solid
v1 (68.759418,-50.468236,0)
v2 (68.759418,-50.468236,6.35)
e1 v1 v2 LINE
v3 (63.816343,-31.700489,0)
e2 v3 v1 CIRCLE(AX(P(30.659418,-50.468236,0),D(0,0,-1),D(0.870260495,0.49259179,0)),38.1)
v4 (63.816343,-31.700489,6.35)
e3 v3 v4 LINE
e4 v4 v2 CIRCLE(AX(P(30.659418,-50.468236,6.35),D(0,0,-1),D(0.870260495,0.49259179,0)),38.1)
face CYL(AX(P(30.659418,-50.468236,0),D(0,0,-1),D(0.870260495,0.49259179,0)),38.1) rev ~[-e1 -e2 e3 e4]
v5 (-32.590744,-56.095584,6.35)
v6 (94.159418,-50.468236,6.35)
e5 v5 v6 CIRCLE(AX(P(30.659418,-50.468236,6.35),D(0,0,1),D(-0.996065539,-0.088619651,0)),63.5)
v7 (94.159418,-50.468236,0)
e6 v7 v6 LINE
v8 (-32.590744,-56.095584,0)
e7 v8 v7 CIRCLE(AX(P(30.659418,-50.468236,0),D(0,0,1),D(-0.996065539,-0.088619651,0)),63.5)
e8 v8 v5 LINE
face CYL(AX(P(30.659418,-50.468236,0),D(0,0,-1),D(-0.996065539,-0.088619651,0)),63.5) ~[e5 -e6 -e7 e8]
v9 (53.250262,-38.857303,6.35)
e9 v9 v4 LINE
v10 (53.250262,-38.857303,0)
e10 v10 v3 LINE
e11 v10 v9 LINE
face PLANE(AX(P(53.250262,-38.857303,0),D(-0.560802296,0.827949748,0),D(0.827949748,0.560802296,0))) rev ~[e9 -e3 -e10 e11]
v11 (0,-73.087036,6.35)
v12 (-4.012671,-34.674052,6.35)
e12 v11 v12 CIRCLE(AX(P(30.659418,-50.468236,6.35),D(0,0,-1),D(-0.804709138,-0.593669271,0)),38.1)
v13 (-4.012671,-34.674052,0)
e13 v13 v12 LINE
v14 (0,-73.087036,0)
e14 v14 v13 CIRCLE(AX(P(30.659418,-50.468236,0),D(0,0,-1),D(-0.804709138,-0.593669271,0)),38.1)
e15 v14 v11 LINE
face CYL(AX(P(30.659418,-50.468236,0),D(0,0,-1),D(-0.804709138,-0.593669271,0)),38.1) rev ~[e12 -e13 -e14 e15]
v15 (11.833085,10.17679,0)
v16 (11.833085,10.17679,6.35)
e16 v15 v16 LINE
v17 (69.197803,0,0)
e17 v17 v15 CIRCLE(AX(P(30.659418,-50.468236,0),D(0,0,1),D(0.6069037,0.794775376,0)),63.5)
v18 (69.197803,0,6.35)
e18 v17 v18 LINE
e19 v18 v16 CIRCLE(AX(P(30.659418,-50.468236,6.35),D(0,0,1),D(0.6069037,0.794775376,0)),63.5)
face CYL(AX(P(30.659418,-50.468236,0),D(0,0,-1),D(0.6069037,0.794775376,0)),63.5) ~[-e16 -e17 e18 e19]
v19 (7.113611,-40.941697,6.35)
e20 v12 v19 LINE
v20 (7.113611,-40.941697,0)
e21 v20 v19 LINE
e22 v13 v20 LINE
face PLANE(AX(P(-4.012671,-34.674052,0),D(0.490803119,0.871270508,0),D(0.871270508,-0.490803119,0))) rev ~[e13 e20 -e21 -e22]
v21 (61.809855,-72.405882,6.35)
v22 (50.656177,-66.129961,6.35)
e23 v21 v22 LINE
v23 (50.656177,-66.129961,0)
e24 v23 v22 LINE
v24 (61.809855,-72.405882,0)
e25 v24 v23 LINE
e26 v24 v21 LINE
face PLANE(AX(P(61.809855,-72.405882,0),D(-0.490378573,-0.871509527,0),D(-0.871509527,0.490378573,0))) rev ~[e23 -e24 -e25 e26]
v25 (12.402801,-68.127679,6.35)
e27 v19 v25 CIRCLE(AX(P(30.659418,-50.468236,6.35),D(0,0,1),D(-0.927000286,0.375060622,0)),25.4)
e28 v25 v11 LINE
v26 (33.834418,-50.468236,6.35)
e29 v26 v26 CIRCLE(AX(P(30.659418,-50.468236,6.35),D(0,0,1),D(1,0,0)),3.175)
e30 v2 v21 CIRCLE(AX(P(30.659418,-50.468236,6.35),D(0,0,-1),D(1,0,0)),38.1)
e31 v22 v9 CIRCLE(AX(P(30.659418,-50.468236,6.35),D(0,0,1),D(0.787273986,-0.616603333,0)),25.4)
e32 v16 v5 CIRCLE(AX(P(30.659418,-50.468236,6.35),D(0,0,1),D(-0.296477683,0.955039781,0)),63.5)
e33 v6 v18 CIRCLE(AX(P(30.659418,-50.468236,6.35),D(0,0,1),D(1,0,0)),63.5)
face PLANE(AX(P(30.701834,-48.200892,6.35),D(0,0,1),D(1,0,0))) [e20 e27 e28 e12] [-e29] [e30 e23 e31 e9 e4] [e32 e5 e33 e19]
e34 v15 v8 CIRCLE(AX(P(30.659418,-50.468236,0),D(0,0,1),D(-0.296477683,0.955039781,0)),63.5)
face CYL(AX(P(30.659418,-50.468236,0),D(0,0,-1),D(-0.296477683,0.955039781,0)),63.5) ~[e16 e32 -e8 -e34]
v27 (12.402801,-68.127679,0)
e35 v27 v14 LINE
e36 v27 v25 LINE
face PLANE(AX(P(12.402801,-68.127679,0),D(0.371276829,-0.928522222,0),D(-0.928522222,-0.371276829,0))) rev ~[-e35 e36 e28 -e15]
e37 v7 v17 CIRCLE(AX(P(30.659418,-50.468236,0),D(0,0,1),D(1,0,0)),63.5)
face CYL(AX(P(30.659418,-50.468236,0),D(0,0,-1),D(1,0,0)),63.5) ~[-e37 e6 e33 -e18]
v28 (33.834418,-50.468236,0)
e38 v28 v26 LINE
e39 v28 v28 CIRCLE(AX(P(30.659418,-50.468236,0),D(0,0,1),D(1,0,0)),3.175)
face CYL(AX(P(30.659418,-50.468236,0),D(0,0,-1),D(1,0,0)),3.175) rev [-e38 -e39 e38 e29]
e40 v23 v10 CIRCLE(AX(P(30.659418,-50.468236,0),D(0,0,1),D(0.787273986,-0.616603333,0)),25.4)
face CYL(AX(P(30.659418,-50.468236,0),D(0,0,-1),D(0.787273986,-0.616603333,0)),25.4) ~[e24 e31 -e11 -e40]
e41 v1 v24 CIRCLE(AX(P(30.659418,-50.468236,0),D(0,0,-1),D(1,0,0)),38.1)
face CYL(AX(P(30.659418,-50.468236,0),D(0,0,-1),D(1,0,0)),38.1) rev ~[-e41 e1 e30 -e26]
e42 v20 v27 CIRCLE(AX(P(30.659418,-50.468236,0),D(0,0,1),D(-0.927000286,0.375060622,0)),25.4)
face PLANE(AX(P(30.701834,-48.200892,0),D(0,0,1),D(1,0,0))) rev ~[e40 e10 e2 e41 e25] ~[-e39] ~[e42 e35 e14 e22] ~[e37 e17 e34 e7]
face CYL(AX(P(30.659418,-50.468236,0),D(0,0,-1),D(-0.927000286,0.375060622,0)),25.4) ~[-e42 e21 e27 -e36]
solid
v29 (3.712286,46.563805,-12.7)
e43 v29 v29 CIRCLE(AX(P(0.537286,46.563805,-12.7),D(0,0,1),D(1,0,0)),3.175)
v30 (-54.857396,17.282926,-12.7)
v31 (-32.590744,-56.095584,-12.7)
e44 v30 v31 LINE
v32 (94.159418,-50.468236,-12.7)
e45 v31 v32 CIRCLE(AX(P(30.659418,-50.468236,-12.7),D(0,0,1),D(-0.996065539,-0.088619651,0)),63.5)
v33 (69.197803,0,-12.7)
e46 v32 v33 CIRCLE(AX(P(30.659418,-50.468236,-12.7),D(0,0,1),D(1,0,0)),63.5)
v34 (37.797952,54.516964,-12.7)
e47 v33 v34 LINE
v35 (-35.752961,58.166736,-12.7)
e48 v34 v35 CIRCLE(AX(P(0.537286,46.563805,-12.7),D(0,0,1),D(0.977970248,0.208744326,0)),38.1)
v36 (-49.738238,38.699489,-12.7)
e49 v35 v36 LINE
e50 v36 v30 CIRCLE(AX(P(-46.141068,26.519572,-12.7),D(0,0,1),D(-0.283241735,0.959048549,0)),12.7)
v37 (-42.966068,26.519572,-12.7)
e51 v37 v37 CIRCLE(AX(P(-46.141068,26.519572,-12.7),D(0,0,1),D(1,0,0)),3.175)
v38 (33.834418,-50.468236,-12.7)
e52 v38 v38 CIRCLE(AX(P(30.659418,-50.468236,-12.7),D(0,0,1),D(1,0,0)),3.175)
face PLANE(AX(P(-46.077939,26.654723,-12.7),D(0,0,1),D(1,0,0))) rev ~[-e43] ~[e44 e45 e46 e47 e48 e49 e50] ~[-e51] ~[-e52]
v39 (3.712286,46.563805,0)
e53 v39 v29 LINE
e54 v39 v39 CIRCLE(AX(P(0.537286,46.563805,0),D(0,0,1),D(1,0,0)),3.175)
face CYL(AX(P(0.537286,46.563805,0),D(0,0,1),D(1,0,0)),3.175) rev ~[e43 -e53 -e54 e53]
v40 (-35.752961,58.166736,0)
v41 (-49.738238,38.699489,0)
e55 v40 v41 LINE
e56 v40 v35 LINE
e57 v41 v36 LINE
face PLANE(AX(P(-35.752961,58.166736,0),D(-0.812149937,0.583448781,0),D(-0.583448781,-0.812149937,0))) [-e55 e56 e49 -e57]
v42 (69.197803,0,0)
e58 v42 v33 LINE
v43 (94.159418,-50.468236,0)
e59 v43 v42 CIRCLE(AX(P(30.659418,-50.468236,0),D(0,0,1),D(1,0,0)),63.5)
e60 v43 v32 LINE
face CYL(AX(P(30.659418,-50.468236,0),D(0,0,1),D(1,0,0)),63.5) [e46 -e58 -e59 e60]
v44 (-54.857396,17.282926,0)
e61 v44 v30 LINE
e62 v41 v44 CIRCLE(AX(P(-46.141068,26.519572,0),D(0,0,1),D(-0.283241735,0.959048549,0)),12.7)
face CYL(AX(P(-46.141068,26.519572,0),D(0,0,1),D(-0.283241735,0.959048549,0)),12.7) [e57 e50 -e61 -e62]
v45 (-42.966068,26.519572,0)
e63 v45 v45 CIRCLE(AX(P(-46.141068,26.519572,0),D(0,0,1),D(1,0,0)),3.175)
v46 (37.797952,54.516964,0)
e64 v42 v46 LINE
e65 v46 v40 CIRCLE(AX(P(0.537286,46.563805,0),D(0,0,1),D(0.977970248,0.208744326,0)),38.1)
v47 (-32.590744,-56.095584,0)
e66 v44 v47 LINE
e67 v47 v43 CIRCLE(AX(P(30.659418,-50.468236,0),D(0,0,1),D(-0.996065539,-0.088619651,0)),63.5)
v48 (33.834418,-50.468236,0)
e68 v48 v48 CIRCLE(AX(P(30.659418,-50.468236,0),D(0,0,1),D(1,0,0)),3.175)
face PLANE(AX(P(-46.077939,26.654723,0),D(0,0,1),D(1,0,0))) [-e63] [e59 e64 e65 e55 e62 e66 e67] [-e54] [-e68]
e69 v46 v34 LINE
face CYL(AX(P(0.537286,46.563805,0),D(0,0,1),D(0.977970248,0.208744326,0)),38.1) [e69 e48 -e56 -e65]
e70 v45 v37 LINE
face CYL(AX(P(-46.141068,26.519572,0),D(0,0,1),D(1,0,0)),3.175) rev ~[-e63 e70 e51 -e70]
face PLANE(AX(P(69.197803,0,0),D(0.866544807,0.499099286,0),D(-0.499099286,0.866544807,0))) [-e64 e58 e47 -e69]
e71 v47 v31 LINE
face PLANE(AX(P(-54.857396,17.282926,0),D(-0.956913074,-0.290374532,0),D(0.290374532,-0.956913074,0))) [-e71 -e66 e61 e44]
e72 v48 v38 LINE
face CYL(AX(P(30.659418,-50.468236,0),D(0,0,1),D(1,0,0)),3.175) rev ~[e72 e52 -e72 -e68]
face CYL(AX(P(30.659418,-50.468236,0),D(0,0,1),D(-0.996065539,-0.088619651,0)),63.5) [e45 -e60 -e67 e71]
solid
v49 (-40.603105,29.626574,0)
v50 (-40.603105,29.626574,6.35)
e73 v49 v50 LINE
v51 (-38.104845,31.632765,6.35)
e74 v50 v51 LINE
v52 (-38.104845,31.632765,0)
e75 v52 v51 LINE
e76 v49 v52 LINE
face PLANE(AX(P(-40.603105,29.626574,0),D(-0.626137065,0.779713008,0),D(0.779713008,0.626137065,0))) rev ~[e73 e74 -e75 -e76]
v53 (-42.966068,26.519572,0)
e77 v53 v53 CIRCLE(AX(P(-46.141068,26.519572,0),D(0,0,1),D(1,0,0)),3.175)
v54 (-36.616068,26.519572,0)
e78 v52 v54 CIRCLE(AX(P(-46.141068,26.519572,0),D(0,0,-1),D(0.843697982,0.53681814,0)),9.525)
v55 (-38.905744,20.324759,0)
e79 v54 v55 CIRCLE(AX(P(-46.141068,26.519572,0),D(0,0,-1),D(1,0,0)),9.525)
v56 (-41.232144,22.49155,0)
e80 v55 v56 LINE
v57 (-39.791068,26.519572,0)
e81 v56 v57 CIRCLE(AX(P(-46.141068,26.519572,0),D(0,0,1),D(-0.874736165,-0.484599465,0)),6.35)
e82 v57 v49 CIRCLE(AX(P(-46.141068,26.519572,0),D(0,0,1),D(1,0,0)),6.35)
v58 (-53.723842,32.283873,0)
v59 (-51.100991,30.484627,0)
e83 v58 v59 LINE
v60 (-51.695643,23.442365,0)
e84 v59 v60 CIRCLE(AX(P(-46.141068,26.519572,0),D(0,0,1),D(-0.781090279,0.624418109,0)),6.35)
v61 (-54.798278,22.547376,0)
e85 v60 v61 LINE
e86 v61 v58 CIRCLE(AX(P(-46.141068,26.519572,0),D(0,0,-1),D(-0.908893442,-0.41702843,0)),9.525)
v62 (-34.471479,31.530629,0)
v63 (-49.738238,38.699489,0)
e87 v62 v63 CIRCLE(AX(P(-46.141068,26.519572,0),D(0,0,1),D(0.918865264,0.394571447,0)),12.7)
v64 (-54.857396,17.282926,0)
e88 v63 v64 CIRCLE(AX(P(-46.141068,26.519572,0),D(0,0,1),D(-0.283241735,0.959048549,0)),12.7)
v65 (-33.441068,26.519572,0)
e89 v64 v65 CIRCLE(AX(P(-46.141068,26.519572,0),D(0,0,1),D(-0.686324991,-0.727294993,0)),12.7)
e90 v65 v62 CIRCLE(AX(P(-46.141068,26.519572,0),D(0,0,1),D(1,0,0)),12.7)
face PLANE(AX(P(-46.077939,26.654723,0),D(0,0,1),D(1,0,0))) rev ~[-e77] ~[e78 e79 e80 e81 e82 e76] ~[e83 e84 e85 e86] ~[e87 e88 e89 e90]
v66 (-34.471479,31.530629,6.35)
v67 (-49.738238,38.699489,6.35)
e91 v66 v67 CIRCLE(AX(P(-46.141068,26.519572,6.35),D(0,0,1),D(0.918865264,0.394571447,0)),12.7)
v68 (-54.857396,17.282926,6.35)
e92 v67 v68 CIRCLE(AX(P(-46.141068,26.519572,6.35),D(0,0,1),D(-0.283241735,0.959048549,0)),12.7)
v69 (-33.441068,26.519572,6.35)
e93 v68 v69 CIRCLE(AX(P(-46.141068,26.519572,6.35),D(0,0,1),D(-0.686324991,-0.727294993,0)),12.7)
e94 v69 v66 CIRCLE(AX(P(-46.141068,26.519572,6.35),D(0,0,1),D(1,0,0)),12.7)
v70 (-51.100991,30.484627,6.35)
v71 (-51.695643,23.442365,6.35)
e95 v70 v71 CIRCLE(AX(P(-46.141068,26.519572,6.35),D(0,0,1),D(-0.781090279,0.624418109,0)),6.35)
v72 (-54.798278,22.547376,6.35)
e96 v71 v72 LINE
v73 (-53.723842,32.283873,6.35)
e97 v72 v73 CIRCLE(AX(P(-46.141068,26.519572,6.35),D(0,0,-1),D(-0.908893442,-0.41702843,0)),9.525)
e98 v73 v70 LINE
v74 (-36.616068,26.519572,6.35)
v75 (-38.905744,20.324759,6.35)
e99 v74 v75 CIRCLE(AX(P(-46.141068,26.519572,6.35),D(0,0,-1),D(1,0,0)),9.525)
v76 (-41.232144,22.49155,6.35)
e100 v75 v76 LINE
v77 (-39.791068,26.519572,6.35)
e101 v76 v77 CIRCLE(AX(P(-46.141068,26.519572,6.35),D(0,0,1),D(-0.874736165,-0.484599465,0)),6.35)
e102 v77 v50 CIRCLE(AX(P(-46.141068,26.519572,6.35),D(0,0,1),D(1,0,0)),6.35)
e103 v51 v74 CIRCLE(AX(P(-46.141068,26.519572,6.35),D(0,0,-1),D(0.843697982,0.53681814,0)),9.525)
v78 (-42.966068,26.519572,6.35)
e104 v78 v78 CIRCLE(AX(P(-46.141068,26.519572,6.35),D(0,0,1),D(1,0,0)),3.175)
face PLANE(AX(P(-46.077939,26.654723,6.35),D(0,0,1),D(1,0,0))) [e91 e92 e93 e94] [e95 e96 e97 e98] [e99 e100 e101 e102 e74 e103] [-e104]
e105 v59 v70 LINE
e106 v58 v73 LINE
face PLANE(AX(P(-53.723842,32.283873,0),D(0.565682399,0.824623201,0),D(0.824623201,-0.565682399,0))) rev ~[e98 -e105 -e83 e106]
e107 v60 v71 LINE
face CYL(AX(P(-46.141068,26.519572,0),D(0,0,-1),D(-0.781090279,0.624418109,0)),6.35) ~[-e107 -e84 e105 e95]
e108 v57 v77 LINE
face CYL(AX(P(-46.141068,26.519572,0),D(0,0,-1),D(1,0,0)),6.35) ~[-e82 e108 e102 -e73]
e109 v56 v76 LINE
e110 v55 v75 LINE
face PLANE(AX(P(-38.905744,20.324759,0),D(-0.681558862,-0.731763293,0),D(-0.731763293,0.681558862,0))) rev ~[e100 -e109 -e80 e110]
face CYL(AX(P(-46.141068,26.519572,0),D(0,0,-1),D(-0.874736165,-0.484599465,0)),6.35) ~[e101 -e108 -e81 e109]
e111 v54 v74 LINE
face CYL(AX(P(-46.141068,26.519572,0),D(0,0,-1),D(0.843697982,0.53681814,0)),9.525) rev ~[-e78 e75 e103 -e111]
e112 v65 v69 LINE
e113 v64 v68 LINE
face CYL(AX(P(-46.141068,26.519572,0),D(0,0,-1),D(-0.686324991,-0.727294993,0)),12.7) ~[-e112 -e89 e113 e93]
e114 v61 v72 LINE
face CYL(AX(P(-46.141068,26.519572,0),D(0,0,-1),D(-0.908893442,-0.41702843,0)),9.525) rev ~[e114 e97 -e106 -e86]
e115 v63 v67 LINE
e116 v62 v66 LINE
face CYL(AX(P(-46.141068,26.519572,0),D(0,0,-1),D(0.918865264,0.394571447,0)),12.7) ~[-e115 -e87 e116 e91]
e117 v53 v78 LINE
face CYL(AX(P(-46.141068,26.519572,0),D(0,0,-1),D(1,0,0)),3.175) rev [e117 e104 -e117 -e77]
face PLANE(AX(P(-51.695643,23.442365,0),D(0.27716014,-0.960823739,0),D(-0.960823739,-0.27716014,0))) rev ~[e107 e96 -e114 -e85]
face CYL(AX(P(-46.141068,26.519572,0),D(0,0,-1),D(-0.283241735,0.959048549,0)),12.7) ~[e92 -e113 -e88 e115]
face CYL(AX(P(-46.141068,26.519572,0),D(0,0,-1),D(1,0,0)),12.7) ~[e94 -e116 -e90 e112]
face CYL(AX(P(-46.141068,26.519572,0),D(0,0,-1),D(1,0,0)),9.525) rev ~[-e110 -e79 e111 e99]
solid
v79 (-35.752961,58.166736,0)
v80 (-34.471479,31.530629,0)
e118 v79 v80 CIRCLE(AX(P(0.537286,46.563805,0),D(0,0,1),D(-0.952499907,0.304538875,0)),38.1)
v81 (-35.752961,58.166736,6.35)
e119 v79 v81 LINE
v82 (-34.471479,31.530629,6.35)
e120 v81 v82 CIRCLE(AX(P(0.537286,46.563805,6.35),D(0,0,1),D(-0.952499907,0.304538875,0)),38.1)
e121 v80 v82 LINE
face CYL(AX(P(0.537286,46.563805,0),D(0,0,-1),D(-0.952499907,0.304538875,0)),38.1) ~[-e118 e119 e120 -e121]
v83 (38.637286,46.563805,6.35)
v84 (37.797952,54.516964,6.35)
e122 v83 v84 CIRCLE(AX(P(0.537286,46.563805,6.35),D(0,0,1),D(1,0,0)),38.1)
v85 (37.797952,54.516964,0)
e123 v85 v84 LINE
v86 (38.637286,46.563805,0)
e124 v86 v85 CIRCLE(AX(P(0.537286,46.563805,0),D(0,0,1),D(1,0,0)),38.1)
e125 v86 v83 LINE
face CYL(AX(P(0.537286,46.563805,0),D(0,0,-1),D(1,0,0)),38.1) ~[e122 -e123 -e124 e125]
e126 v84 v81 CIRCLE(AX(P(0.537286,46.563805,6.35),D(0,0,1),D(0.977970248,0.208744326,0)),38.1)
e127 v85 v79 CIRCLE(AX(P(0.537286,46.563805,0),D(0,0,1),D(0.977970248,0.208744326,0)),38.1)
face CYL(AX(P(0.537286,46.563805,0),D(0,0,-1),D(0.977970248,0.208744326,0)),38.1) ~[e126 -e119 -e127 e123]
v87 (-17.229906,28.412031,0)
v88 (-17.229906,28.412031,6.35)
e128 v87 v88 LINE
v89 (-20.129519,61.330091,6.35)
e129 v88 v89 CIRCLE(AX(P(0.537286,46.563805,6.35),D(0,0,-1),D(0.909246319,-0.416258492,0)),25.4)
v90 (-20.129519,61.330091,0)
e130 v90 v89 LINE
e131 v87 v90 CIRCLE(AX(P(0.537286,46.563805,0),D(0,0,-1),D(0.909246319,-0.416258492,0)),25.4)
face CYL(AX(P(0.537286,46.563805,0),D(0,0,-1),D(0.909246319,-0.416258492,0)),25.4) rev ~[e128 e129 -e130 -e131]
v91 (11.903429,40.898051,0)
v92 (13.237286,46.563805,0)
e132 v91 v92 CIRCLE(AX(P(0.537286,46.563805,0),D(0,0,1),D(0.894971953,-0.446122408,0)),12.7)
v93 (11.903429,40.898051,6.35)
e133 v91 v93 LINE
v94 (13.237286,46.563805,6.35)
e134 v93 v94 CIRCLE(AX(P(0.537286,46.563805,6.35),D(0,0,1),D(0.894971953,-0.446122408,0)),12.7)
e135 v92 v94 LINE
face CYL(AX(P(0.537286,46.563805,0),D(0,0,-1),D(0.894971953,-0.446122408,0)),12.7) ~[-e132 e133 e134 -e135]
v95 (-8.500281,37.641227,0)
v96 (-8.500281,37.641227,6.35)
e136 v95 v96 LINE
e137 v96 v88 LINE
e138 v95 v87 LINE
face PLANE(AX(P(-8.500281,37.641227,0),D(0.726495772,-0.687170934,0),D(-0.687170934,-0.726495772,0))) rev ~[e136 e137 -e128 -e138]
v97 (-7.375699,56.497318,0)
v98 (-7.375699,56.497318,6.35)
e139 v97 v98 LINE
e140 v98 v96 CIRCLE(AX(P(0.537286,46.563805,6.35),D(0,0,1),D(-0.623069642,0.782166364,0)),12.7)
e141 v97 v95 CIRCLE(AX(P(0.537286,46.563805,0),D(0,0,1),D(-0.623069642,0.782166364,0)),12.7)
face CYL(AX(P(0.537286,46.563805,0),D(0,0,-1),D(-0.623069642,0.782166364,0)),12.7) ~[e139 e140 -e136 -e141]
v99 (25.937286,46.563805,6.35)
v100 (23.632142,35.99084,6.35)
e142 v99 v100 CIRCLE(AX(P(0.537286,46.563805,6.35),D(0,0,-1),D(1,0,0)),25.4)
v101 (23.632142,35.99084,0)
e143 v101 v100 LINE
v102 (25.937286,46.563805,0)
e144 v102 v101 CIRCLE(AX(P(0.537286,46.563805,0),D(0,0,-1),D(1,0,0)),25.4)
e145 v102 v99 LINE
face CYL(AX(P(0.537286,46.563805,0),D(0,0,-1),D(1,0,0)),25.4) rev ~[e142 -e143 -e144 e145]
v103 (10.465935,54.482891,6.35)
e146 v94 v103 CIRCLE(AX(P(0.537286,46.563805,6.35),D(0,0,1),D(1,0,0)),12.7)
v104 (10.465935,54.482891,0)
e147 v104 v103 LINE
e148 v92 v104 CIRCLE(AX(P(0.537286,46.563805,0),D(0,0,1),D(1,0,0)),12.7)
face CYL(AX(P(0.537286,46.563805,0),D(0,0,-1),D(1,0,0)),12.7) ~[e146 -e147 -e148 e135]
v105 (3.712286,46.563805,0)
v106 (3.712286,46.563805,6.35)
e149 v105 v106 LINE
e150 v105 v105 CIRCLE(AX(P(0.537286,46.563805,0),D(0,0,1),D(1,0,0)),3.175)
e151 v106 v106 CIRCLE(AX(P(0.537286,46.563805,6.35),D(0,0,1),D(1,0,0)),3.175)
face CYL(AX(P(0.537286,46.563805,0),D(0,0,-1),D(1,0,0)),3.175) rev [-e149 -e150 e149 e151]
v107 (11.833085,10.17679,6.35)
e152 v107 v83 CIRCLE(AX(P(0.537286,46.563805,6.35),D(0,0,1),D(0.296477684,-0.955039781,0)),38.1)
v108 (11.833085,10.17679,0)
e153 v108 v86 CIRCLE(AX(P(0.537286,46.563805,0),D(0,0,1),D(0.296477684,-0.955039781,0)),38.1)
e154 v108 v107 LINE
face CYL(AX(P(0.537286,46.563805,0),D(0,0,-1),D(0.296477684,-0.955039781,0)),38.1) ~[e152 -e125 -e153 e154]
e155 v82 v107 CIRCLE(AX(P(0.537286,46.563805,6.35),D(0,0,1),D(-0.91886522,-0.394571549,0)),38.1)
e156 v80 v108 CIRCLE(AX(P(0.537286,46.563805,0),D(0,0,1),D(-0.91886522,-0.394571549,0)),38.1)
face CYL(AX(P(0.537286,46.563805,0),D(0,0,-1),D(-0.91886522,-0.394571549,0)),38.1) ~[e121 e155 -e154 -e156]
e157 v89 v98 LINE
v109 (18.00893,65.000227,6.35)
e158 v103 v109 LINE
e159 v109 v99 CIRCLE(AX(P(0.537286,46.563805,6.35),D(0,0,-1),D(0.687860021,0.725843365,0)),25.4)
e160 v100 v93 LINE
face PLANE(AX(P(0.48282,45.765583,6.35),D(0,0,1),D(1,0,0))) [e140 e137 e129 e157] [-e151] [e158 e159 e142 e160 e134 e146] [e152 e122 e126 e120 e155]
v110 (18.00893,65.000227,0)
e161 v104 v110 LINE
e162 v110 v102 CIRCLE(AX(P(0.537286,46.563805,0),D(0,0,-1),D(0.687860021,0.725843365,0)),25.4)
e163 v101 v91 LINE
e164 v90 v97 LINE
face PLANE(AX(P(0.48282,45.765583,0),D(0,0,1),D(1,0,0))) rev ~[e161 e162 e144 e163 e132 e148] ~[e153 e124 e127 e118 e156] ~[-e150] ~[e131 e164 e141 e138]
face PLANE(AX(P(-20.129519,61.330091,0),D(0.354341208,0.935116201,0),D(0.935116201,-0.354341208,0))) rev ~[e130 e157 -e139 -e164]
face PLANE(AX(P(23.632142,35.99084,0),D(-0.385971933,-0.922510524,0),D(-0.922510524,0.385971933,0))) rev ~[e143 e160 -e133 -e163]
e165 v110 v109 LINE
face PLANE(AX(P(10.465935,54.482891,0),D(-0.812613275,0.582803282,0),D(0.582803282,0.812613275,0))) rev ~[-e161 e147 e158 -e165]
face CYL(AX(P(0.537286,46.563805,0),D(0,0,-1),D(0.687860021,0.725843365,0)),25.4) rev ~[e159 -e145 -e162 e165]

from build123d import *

# Parameters (mm, degrees)
F0_R     = 3.175
F1_DEPTH = 6.35
F2_DEPTH = 12.7


with BuildPart() as f1:
    # F0 (on Top) → F1 (new body)
    with BuildSketch(Plane.XY):
        with BuildLine():
            ThreePointArc((-35.7529609464, 58.1667364851), (-37.5186970008, 44.7329056435), (-34.4714793594, 31.5306293419))
            ThreePointArc((-34.4714793594, 31.5306293419), (-15.4180520019, 11.9655799049), (11.8330852799, 10.1767897043))
            ThreePointArc((11.8330852799, 10.1767897043), (31.2128455927, 23.9669025865), (38.6372855282, 46.5638053551))
            ThreePointArc((38.6372855282, 46.5638053551), (38.4268711154, 50.5624681355), (37.7979519832, 54.5169641821))
            ThreePointArc((37.7979519832, 54.5169641821), (2.4255752837, 84.6169834326), (-35.7529609464, 58.1667364851))
        make_face()
        with BuildLine():
            ThreePointArc((-20.1295190644, 61.3300908707), (-1.8957653213, 71.8470065678), (18.0089300704, 65.0002268351))
            ThreePointArc((18.0089300704, 65.0002268351), (23.8711640247, 56.5982517431), (25.9372855282, 46.5638053551))
            ThreePointArc((25.9372855282, 46.5638053551), (25.3543094725, 41.1531378778), (23.6321420204, 35.9908396591))
            ThreePointArc((23.6321420204, 35.9908396591), (5.1693034125, 21.589730591), (-17.2299057254, 28.4120309251))
            ThreePointArc((-17.2299057254, 28.4120309251), (-24.7647435766, 44.3350561147), (-20.1295190644, 61.3300908707))
        make_face(mode=Mode.SUBTRACT)
        with BuildLine():
            ThreePointArc((11.903429337, 40.8980507788), (12.8993247284, 43.6534811782), (13.2372855282, 46.5638053551))
            ThreePointArc((13.2372855282, 46.5638053551), (12.5244421894, 50.7588113362), (10.4659351059, 54.482891007))
            ThreePointArc((10.4659351059, 54.482891007), (1.962138395, 59.1836228778), (-7.3756989197, 56.4973181842))
            ThreePointArc((-7.3756989197, 56.4973181842), (-12.1401878613, 47.3198929538), (-8.5002807579, 37.6412274976))
            ThreePointArc((-8.5002807579, 37.6412274976), (2.5391078957, 34.022565097), (11.903429337, 40.8980507788))
        make_face()
        with Locations((0.5372855282, 46.5638053551)):
            Circle(F0_R, mode=Mode.SUBTRACT)
        with BuildLine():
            Line((23.6321420204, 35.9908396591), (11.903429337, 40.8980507788))
            ThreePointArc((11.903429337, 40.8980507788), (2.5391078957, 34.022565097), (-8.5002807579, 37.6412274976))
            Line((-8.5002807579, 37.6412274976), (-17.2299057254, 28.4120309251))
            ThreePointArc((-17.2299057254, 28.4120309251), (5.1693034125, 21.589730591), (23.6321420204, 35.9908396591))
        make_face()
        with BuildLine():
            ThreePointArc((-7.3756989197, 56.4973181842), (1.962138395, 59.1836228778), (10.4659351059, 54.482891007))
            Line((10.4659351059, 54.482891007), (18.0089300704, 65.0002268351))
            ThreePointArc((18.0089300704, 65.0002268351), (-1.8957653213, 71.8470065678), (-20.1295190644, 61.3300908707))
            Line((-20.1295190644, 61.3300908707), (-7.3756989197, 56.4973181842))
        make_face()
    extrude(amount=F1_DEPTH)


with BuildPart() as f1b:
    # F0 (on Top) → F1, piece 2 (new body)
    with BuildSketch(Plane.XY):
        with BuildLine():
            ThreePointArc((11.8330852799, 10.1767897043), (-22.0866208351, -15.1114071818), (-32.5907435662, -56.0955842544))
            ThreePointArc((-32.5907435662, -56.0955842544), (33.4758637329, -113.9057460769), (94.1594181419, -50.4682363982))
            ThreePointArc((94.1594181419, -50.4682363982), (87.5779451985, -22.3163043559), (69.1978030958, 0))
            ThreePointArc((69.1978030958, 0), (41.7514428259, 12.0554950037), (11.8330852799, 10.1767897043))
        make_face()
        with BuildLine():
            ThreePointArc((-4.0126707213, -34.6740522198), (28.9907510806, -12.4047952737), (63.8163429852, -31.700489199))
            ThreePointArc((63.8163429852, -31.700489199), (67.5029307088, -40.7643412146), (68.7594181419, -50.4682363982))
            ThreePointArc((68.7594181419, -50.4682363982), (66.9804977497, -61.9742859429), (61.8098550907, -72.4058816206))
            ThreePointArc((61.8098550907, -72.4058816206), (31.0792604542, -88.5659231053), (0, -73.0870356413))
            ThreePointArc((0, -73.0870356413), (-7.2343910586, -54.4266734982), (-4.0126707213, -34.6740522198))
        make_face(mode=Mode.SUBTRACT)
        with BuildLine():
            ThreePointArc((7.1136108793, -40.9416966092), (29.5130488205, -25.0941189282), (53.2502621228, -38.8573032647))
            Line((53.2502621228, -38.8573032647), (63.8163429852, -31.700489199))
            ThreePointArc((63.8163429852, -31.700489199), (28.9907510806, -12.4047952737), (-4.0126707213, -34.6740522198))
            Line((-4.0126707213, -34.6740522198), (7.1136108793, -40.9416966092))
        make_face()
        with BuildLine():
            ThreePointArc((50.6561773891, -66.1299610673), (54.6706414019, -58.7520252391), (56.0594181419, -50.4682363982))
            ThreePointArc((56.0594181419, -50.4682363982), (55.3471421876, -44.4952738634), (53.2502621228, -38.8573032647))
            ThreePointArc((53.2502621228, -38.8573032647), (29.5130488205, -25.0941189282), (7.1136108793, -40.9416966092))
            ThreePointArc((7.1136108793, -40.9416966092), (5.7269074554, -55.3190003449), (12.402800821, -68.1276793112))
            ThreePointArc((12.402800821, -68.1276793112), (31.9840852799, -75.8336706932), (50.6561773891, -66.1299610673))
        make_face()
        with Locations((30.6594181419, -50.4682363982)):
            Circle(F0_R, mode=Mode.SUBTRACT)
        with BuildLine():
            Line((61.8098550907, -72.4058816206), (50.6561773891, -66.1299610673))
            ThreePointArc((50.6561773891, -66.1299610673), (31.9840852799, -75.8336706932), (12.402800821, -68.1276793112))
            Line((12.402800821, -68.1276793112), (0, -73.0870356413))
            ThreePointArc((0, -73.0870356413), (31.0792604542, -88.5659231053), (61.8098550907, -72.4058816206))
        make_face()
    extrude(amount=F1_DEPTH)


with BuildPart() as f1c:
    # F0 (on Top) → F1, piece 3 (new body)
    with BuildSketch(Plane.XY):
        with BuildLine():
            ThreePointArc((-34.4714793594, 31.5306293419), (-40.7430017129, 38.0152615062), (-49.7382382473, 38.6994885348))
            ThreePointArc((-49.7382382473, 38.6994885348), (-58.4931063906, 29.4720544391), (-54.8573955894, 17.2829255462))
            ThreePointArc((-54.8573955894, 17.2829255462), (-41.1115233854, 14.8579391921), (-33.4410682097, 26.519571962))
            ThreePointArc((-33.4410682097, 26.519571962), (-33.7013379393, 29.0775224698), (-34.4714793594, 31.5306293419))
        make_face()
        with BuildLine():
            ThreePointArc((-53.7238418013, 32.2838732777), (-45.7443444611, 36.0363064475), (-38.104844935, 31.6327647492))
            ThreePointArc((-38.104844935, 31.6327647492), (-36.9958330654, 29.1823335274), (-36.6160682097, 26.519571962))
            ThreePointArc((-36.6160682097, 26.519571962), (-37.2068059127, 23.2173632758), (-38.9057442638, 20.3247586155))
            ThreePointArc((-38.9057442638, 20.3247586155), (-47.460328308, 17.086376438), (-54.7982782434, 22.5473761672))
            ThreePointArc((-54.7982782434, 22.5473761672), (-55.608597509, 27.5643274198), (-53.7238418013, 32.2838732777))
        make_face(mode=Mode.SUBTRACT)
        with BuildLine():
            ThreePointArc((-41.2321439004, 22.4915498512), (-40.1621816343, 24.3805499149), (-39.7910682097, 26.519571962))
            ThreePointArc((-39.7910682097, 26.519571962), (-39.9974305359, 28.1252544127), (-40.6031047869, 29.6265739136))
            ThreePointArc((-40.6031047869, 29.6265739136), (-45.623771042, 32.8484663078), (-51.100991484, 30.484626957))
            ThreePointArc((-51.100991484, 30.484626957), (-52.4685502322, 27.0538670627), (-51.6956428568, 23.4423653569))
            ThreePointArc((-51.6956428568, 23.4423653569), (-46.7157234291, 20.1956276723), (-41.2321439004, 22.4915498512))
        make_face()
        with Locations((-46.1410682097, 26.519571962)):
            Circle(F0_R, mode=Mode.SUBTRACT)
        with BuildLine():
            Line((-38.9057442638, 20.3247586155), (-41.2321439004, 22.4915498512))
            ThreePointArc((-41.2321439004, 22.4915498512), (-46.7157234291, 20.1956276723), (-51.6956428568, 23.4423653569))
            Line((-51.6956428568, 23.4423653569), (-54.7982782434, 22.5473761672))
            ThreePointArc((-54.7982782434, 22.5473761672), (-47.460328308, 17.086376438), (-38.9057442638, 20.3247586155))
        make_face()
        with BuildLine():
            ThreePointArc((-51.100991484, 30.484626957), (-45.623771042, 32.8484663078), (-40.6031047869, 29.6265739136))
            Line((-40.6031047869, 29.6265739136), (-38.104844935, 31.6327647492))
            ThreePointArc((-38.104844935, 31.6327647492), (-45.7443444611, 36.0363064475), (-53.7238418013, 32.2838732777))
            Line((-53.7238418013, 32.2838732777), (-51.100991484, 30.484626957))
        make_face()
    extrude(amount=F1_DEPTH)


with BuildPart() as f2:
    # F0 (on Top) → F2 (new body)
    with BuildSketch(Plane.XY):
        with BuildLine():
            ThreePointArc((-34.4714793594, 31.5306293419), (-40.7430017129, 38.0152615062), (-49.7382382473, 38.6994885348))
            ThreePointArc((-49.7382382473, 38.6994885348), (-58.4931063906, 29.4720544391), (-54.8573955894, 17.2829255462))
            ThreePointArc((-54.8573955894, 17.2829255462), (-41.1115233854, 14.8579391921), (-33.4410682097, 26.519571962))
            ThreePointArc((-33.4410682097, 26.519571962), (-33.7013379393, 29.0775224698), (-34.4714793594, 31.5306293419))
        make_face()
        with BuildLine():
            ThreePointArc((-53.7238418013, 32.2838732777), (-45.7443444611, 36.0363064475), (-38.104844935, 31.6327647492))
            ThreePointArc((-38.104844935, 31.6327647492), (-36.9958330654, 29.1823335274), (-36.6160682097, 26.519571962))
            ThreePointArc((-36.6160682097, 26.519571962), (-37.2068059127, 23.2173632758), (-38.9057442638, 20.3247586155))
            ThreePointArc((-38.9057442638, 20.3247586155), (-47.460328308, 17.086376438), (-54.7982782434, 22.5473761672))
            ThreePointArc((-54.7982782434, 22.5473761672), (-55.608597509, 27.5643274198), (-53.7238418013, 32.2838732777))
        make_face(mode=Mode.SUBTRACT)
        with BuildLine():
            Line((-35.7529609464, 58.1667364851), (-49.7382382473, 38.6994885348))
            ThreePointArc((-49.7382382473, 38.6994885348), (-40.7430017129, 38.0152615062), (-34.4714793594, 31.5306293419))
            ThreePointArc((-34.4714793594, 31.5306293419), (-37.5186970008, 44.7329056435), (-35.7529609464, 58.1667364851))
        make_face()
        with BuildLine():
            ThreePointArc((-33.4410682097, 26.519571962), (-41.1115233854, 14.8579391921), (-54.8573955894, 17.2829255462))
            Line((-54.8573955894, 17.2829255462), (-32.5907435662, -56.0955842544))
            ThreePointArc((-32.5907435662, -56.0955842544), (-22.0866208351, -15.1114071818), (11.8330852799, 10.1767897043))
            ThreePointArc((11.8330852799, 10.1767897043), (-15.4180520019, 11.9655799049), (-34.4714793594, 31.5306293419))
            ThreePointArc((-34.4714793594, 31.5306293419), (-33.7013379393, 29.0775224698), (-33.4410682097, 26.519571962))
        make_face()
        with BuildLine():
            ThreePointArc((-35.7529609464, 58.1667364851), (-37.5186970008, 44.7329056435), (-34.4714793594, 31.5306293419))
            ThreePointArc((-34.4714793594, 31.5306293419), (-15.4180520019, 11.9655799049), (11.8330852799, 10.1767897043))
            ThreePointArc((11.8330852799, 10.1767897043), (31.2128455927, 23.9669025865), (38.6372855282, 46.5638053551))
            ThreePointArc((38.6372855282, 46.5638053551), (38.4268711154, 50.5624681355), (37.7979519832, 54.5169641821))
            ThreePointArc((37.7979519832, 54.5169641821), (2.4255752837, 84.6169834326), (-35.7529609464, 58.1667364851))
        make_face()
        with BuildLine():
            ThreePointArc((-20.1295190644, 61.3300908707), (-1.8957653213, 71.8470065678), (18.0089300704, 65.0002268351))
            ThreePointArc((18.0089300704, 65.0002268351), (23.8711640247, 56.5982517431), (25.9372855282, 46.5638053551))
            ThreePointArc((25.9372855282, 46.5638053551), (25.3543094725, 41.1531378778), (23.6321420204, 35.9908396591))
            ThreePointArc((23.6321420204, 35.9908396591), (5.1693034125, 21.589730591), (-17.2299057254, 28.4120309251))
            ThreePointArc((-17.2299057254, 28.4120309251), (-24.7647435766, 44.3350561147), (-20.1295190644, 61.3300908707))
        make_face(mode=Mode.SUBTRACT)
        with BuildLine():
            ThreePointArc((11.8330852799, 10.1767897043), (-22.0866208351, -15.1114071818), (-32.5907435662, -56.0955842544))
            ThreePointArc((-32.5907435662, -56.0955842544), (33.4758637329, -113.9057460769), (94.1594181419, -50.4682363982))
            ThreePointArc((94.1594181419, -50.4682363982), (87.5779451985, -22.3163043559), (69.1978030958, 0))
            ThreePointArc((69.1978030958, 0), (41.7514428259, 12.0554950037), (11.8330852799, 10.1767897043))
        make_face()
        with BuildLine():
            ThreePointArc((-4.0126707213, -34.6740522198), (28.9907510806, -12.4047952737), (63.8163429852, -31.700489199))
            ThreePointArc((63.8163429852, -31.700489199), (67.5029307088, -40.7643412146), (68.7594181419, -50.4682363982))
            ThreePointArc((68.7594181419, -50.4682363982), (66.9804977497, -61.9742859429), (61.8098550907, -72.4058816206))
            ThreePointArc((61.8098550907, -72.4058816206), (31.0792604542, -88.5659231053), (0, -73.0870356413))
            ThreePointArc((0, -73.0870356413), (-7.2343910586, -54.4266734982), (-4.0126707213, -34.6740522198))
        make_face(mode=Mode.SUBTRACT)
        with BuildLine():
            ThreePointArc((38.6372855282, 46.5638053551), (31.2128455927, 23.9669025865), (11.8330852799, 10.1767897043))
            ThreePointArc((11.8330852799, 10.1767897043), (41.7514428259, 12.0554950037), (69.1978030958, 0))
            Line((69.1978030958, 0), (37.7979519832, 54.5169641821))
            ThreePointArc((37.7979519832, 54.5169641821), (38.4268711154, 50.5624681355), (38.6372855282, 46.5638053551))
        make_face()
        with BuildLine():
            Line((61.8098550907, -72.4058816206), (50.6561773891, -66.1299610673))
            ThreePointArc((50.6561773891, -66.1299610673), (31.9840852799, -75.8336706932), (12.402800821, -68.1276793112))
            Line((12.402800821, -68.1276793112), (0, -73.0870356413))
            ThreePointArc((0, -73.0870356413), (31.0792604542, -88.5659231053), (61.8098550907, -72.4058816206))
        make_face()
        with BuildLine():
            ThreePointArc((50.6561773891, -66.1299610673), (54.6706414019, -58.7520252391), (56.0594181419, -50.4682363982))
            ThreePointArc((56.0594181419, -50.4682363982), (55.3471421876, -44.4952738634), (53.2502621228, -38.8573032647))
            ThreePointArc((53.2502621228, -38.8573032647), (29.5130488205, -25.0941189282), (7.1136108793, -40.9416966092))
            ThreePointArc((7.1136108793, -40.9416966092), (5.7269074554, -55.3190003449), (12.402800821, -68.1276793112))
            ThreePointArc((12.402800821, -68.1276793112), (31.9840852799, -75.8336706932), (50.6561773891, -66.1299610673))
        make_face()
        with Locations((30.6594181419, -50.4682363982)):
            Circle(F0_R, mode=Mode.SUBTRACT)
        with BuildLine():
            ThreePointArc((7.1136108793, -40.9416966092), (29.5130488205, -25.0941189282), (53.2502621228, -38.8573032647))
            Line((53.2502621228, -38.8573032647), (63.8163429852, -31.700489199))
            ThreePointArc((63.8163429852, -31.700489199), (28.9907510806, -12.4047952737), (-4.0126707213, -34.6740522198))
            Line((-4.0126707213, -34.6740522198), (7.1136108793, -40.9416966092))
        make_face()
        with BuildLine():
            ThreePointArc((53.2502621228, -38.8573032647), (55.3471421876, -44.4952738634), (56.0594181419, -50.4682363982))
            ThreePointArc((56.0594181419, -50.4682363982), (54.6706414019, -58.7520252391), (50.6561773891, -66.1299610673))
            Line((50.6561773891, -66.1299610673), (61.8098550907, -72.4058816206))
            ThreePointArc((61.8098550907, -72.4058816206), (66.9804977497, -61.9742859429), (68.7594181419, -50.4682363982))
            ThreePointArc((68.7594181419, -50.4682363982), (67.5029307088, -40.7643412146), (63.8163429852, -31.700489199))
            Line((63.8163429852, -31.700489199), (53.2502621228, -38.8573032647))
        make_face()
        with BuildLine():
            ThreePointArc((12.402800821, -68.1276793112), (5.7269074554, -55.3190003449), (7.1136108793, -40.9416966092))
            Line((7.1136108793, -40.9416966092), (-4.0126707213, -34.6740522198))
            ThreePointArc((-4.0126707213, -34.6740522198), (-7.2343910586, -54.4266734982), (0, -73.0870356413))
            Line((0, -73.0870356413), (12.402800821, -68.1276793112))
        make_face()
        with BuildLine():
            Line((23.6321420204, 35.9908396591), (11.903429337, 40.8980507788))
            ThreePointArc((11.903429337, 40.8980507788), (2.5391078957, 34.022565097), (-8.5002807579, 37.6412274976))
            Line((-8.5002807579, 37.6412274976), (-17.2299057254, 28.4120309251))
            ThreePointArc((-17.2299057254, 28.4120309251), (5.1693034125, 21.589730591), (23.6321420204, 35.9908396591))
        make_face()
        with BuildLine():
            ThreePointArc((11.903429337, 40.8980507788), (12.8993247284, 43.6534811782), (13.2372855282, 46.5638053551))
            ThreePointArc((13.2372855282, 46.5638053551), (12.5244421894, 50.7588113362), (10.4659351059, 54.482891007))
            ThreePointArc((10.4659351059, 54.482891007), (1.962138395, 59.1836228778), (-7.3756989197, 56.4973181842))
            ThreePointArc((-7.3756989197, 56.4973181842), (-12.1401878613, 47.3198929538), (-8.5002807579, 37.6412274976))
            ThreePointArc((-8.5002807579, 37.6412274976), (2.5391078957, 34.022565097), (11.903429337, 40.8980507788))
        make_face()
        with Locations((0.5372855282, 46.5638053551)):
            Circle(F0_R, mode=Mode.SUBTRACT)
        with BuildLine():
            ThreePointArc((-7.3756989197, 56.4973181842), (1.962138395, 59.1836228778), (10.4659351059, 54.482891007))
            Line((10.4659351059, 54.482891007), (18.0089300704, 65.0002268351))
            ThreePointArc((18.0089300704, 65.0002268351), (-1.8957653213, 71.8470065678), (-20.1295190644, 61.3300908707))
            Line((-20.1295190644, 61.3300908707), (-7.3756989197, 56.4973181842))
        make_face()
        with BuildLine():
            ThreePointArc((10.4659351059, 54.482891007), (12.5244421894, 50.7588113362), (13.2372855282, 46.5638053551))
            ThreePointArc((13.2372855282, 46.5638053551), (12.8993247284, 43.6534811782), (11.903429337, 40.8980507788))
            Line((11.903429337, 40.8980507788), (23.6321420204, 35.9908396591))
            ThreePointArc((23.6321420204, 35.9908396591), (25.3543094725, 41.1531378778), (25.9372855282, 46.5638053551))
            ThreePointArc((25.9372855282, 46.5638053551), (23.8711640247, 56.5982517431), (18.0089300704, 65.0002268351))
            Line((18.0089300704, 65.0002268351), (10.4659351059, 54.482891007))
        make_face()
        with BuildLine():
            ThreePointArc((-8.5002807579, 37.6412274976), (-12.1401878613, 47.3198929538), (-7.3756989197, 56.4973181842))
            Line((-7.3756989197, 56.4973181842), (-20.1295190644, 61.3300908707))
            ThreePointArc((-20.1295190644, 61.3300908707), (-24.7647435766, 44.3350561147), (-17.2299057254, 28.4120309251))
            Line((-17.2299057254, 28.4120309251), (-8.5002807579, 37.6412274976))
        make_face()
        with BuildLine():
            ThreePointArc((-51.100991484, 30.484626957), (-45.623771042, 32.8484663078), (-40.6031047869, 29.6265739136))
            Line((-40.6031047869, 29.6265739136), (-38.104844935, 31.6327647492))
            ThreePointArc((-38.104844935, 31.6327647492), (-45.7443444611, 36.0363064475), (-53.7238418013, 32.2838732777))
            Line((-53.7238418013, 32.2838732777), (-51.100991484, 30.484626957))
        make_face()
        with BuildLine():
            ThreePointArc((-40.6031047869, 29.6265739136), (-39.9974305359, 28.1252544127), (-39.7910682097, 26.519571962))
            ThreePointArc((-39.7910682097, 26.519571962), (-40.1621816343, 24.3805499149), (-41.2321439004, 22.4915498512))
            Line((-41.2321439004, 22.4915498512), (-38.9057442638, 20.3247586155))
            ThreePointArc((-38.9057442638, 20.3247586155), (-37.2068059127, 23.2173632758), (-36.6160682097, 26.519571962))
            ThreePointArc((-36.6160682097, 26.519571962), (-36.9958330654, 29.1823335274), (-38.104844935, 31.6327647492))
            Line((-38.104844935, 31.6327647492), (-40.6031047869, 29.6265739136))
        make_face()
        with BuildLine():
            ThreePointArc((-51.6956428568, 23.4423653569), (-52.4685502322, 27.0538670627), (-51.100991484, 30.484626957))
            Line((-51.100991484, 30.484626957), (-53.7238418013, 32.2838732777))
            ThreePointArc((-53.7238418013, 32.2838732777), (-55.608597509, 27.5643274198), (-54.7982782434, 22.5473761672))
            Line((-54.7982782434, 22.5473761672), (-51.6956428568, 23.4423653569))
        make_face()
        with BuildLine():
            Line((-38.9057442638, 20.3247586155), (-41.2321439004, 22.4915498512))
            ThreePointArc((-41.2321439004, 22.4915498512), (-46.7157234291, 20.1956276723), (-51.6956428568, 23.4423653569))
            Line((-51.6956428568, 23.4423653569), (-54.7982782434, 22.5473761672))
            ThreePointArc((-54.7982782434, 22.5473761672), (-47.460328308, 17.086376438), (-38.9057442638, 20.3247586155))
        make_face()
        with BuildLine():
            ThreePointArc((-41.2321439004, 22.4915498512), (-40.1621816343, 24.3805499149), (-39.7910682097, 26.519571962))
            ThreePointArc((-39.7910682097, 26.519571962), (-39.9974305359, 28.1252544127), (-40.6031047869, 29.6265739136))
            ThreePointArc((-40.6031047869, 29.6265739136), (-45.623771042, 32.8484663078), (-51.100991484, 30.484626957))
            ThreePointArc((-51.100991484, 30.484626957), (-52.4685502322, 27.0538670627), (-51.6956428568, 23.4423653569))
            ThreePointArc((-51.6956428568, 23.4423653569), (-46.7157234291, 20.1956276723), (-41.2321439004, 22.4915498512))
        make_face()
        with Locations((-46.1410682097, 26.519571962)):
            Circle(F0_R, mode=Mode.SUBTRACT)
    extrude(amount=-F2_DEPTH)


solid = Compound([f1.part, f1b.part, f1c.part, f2.part])
